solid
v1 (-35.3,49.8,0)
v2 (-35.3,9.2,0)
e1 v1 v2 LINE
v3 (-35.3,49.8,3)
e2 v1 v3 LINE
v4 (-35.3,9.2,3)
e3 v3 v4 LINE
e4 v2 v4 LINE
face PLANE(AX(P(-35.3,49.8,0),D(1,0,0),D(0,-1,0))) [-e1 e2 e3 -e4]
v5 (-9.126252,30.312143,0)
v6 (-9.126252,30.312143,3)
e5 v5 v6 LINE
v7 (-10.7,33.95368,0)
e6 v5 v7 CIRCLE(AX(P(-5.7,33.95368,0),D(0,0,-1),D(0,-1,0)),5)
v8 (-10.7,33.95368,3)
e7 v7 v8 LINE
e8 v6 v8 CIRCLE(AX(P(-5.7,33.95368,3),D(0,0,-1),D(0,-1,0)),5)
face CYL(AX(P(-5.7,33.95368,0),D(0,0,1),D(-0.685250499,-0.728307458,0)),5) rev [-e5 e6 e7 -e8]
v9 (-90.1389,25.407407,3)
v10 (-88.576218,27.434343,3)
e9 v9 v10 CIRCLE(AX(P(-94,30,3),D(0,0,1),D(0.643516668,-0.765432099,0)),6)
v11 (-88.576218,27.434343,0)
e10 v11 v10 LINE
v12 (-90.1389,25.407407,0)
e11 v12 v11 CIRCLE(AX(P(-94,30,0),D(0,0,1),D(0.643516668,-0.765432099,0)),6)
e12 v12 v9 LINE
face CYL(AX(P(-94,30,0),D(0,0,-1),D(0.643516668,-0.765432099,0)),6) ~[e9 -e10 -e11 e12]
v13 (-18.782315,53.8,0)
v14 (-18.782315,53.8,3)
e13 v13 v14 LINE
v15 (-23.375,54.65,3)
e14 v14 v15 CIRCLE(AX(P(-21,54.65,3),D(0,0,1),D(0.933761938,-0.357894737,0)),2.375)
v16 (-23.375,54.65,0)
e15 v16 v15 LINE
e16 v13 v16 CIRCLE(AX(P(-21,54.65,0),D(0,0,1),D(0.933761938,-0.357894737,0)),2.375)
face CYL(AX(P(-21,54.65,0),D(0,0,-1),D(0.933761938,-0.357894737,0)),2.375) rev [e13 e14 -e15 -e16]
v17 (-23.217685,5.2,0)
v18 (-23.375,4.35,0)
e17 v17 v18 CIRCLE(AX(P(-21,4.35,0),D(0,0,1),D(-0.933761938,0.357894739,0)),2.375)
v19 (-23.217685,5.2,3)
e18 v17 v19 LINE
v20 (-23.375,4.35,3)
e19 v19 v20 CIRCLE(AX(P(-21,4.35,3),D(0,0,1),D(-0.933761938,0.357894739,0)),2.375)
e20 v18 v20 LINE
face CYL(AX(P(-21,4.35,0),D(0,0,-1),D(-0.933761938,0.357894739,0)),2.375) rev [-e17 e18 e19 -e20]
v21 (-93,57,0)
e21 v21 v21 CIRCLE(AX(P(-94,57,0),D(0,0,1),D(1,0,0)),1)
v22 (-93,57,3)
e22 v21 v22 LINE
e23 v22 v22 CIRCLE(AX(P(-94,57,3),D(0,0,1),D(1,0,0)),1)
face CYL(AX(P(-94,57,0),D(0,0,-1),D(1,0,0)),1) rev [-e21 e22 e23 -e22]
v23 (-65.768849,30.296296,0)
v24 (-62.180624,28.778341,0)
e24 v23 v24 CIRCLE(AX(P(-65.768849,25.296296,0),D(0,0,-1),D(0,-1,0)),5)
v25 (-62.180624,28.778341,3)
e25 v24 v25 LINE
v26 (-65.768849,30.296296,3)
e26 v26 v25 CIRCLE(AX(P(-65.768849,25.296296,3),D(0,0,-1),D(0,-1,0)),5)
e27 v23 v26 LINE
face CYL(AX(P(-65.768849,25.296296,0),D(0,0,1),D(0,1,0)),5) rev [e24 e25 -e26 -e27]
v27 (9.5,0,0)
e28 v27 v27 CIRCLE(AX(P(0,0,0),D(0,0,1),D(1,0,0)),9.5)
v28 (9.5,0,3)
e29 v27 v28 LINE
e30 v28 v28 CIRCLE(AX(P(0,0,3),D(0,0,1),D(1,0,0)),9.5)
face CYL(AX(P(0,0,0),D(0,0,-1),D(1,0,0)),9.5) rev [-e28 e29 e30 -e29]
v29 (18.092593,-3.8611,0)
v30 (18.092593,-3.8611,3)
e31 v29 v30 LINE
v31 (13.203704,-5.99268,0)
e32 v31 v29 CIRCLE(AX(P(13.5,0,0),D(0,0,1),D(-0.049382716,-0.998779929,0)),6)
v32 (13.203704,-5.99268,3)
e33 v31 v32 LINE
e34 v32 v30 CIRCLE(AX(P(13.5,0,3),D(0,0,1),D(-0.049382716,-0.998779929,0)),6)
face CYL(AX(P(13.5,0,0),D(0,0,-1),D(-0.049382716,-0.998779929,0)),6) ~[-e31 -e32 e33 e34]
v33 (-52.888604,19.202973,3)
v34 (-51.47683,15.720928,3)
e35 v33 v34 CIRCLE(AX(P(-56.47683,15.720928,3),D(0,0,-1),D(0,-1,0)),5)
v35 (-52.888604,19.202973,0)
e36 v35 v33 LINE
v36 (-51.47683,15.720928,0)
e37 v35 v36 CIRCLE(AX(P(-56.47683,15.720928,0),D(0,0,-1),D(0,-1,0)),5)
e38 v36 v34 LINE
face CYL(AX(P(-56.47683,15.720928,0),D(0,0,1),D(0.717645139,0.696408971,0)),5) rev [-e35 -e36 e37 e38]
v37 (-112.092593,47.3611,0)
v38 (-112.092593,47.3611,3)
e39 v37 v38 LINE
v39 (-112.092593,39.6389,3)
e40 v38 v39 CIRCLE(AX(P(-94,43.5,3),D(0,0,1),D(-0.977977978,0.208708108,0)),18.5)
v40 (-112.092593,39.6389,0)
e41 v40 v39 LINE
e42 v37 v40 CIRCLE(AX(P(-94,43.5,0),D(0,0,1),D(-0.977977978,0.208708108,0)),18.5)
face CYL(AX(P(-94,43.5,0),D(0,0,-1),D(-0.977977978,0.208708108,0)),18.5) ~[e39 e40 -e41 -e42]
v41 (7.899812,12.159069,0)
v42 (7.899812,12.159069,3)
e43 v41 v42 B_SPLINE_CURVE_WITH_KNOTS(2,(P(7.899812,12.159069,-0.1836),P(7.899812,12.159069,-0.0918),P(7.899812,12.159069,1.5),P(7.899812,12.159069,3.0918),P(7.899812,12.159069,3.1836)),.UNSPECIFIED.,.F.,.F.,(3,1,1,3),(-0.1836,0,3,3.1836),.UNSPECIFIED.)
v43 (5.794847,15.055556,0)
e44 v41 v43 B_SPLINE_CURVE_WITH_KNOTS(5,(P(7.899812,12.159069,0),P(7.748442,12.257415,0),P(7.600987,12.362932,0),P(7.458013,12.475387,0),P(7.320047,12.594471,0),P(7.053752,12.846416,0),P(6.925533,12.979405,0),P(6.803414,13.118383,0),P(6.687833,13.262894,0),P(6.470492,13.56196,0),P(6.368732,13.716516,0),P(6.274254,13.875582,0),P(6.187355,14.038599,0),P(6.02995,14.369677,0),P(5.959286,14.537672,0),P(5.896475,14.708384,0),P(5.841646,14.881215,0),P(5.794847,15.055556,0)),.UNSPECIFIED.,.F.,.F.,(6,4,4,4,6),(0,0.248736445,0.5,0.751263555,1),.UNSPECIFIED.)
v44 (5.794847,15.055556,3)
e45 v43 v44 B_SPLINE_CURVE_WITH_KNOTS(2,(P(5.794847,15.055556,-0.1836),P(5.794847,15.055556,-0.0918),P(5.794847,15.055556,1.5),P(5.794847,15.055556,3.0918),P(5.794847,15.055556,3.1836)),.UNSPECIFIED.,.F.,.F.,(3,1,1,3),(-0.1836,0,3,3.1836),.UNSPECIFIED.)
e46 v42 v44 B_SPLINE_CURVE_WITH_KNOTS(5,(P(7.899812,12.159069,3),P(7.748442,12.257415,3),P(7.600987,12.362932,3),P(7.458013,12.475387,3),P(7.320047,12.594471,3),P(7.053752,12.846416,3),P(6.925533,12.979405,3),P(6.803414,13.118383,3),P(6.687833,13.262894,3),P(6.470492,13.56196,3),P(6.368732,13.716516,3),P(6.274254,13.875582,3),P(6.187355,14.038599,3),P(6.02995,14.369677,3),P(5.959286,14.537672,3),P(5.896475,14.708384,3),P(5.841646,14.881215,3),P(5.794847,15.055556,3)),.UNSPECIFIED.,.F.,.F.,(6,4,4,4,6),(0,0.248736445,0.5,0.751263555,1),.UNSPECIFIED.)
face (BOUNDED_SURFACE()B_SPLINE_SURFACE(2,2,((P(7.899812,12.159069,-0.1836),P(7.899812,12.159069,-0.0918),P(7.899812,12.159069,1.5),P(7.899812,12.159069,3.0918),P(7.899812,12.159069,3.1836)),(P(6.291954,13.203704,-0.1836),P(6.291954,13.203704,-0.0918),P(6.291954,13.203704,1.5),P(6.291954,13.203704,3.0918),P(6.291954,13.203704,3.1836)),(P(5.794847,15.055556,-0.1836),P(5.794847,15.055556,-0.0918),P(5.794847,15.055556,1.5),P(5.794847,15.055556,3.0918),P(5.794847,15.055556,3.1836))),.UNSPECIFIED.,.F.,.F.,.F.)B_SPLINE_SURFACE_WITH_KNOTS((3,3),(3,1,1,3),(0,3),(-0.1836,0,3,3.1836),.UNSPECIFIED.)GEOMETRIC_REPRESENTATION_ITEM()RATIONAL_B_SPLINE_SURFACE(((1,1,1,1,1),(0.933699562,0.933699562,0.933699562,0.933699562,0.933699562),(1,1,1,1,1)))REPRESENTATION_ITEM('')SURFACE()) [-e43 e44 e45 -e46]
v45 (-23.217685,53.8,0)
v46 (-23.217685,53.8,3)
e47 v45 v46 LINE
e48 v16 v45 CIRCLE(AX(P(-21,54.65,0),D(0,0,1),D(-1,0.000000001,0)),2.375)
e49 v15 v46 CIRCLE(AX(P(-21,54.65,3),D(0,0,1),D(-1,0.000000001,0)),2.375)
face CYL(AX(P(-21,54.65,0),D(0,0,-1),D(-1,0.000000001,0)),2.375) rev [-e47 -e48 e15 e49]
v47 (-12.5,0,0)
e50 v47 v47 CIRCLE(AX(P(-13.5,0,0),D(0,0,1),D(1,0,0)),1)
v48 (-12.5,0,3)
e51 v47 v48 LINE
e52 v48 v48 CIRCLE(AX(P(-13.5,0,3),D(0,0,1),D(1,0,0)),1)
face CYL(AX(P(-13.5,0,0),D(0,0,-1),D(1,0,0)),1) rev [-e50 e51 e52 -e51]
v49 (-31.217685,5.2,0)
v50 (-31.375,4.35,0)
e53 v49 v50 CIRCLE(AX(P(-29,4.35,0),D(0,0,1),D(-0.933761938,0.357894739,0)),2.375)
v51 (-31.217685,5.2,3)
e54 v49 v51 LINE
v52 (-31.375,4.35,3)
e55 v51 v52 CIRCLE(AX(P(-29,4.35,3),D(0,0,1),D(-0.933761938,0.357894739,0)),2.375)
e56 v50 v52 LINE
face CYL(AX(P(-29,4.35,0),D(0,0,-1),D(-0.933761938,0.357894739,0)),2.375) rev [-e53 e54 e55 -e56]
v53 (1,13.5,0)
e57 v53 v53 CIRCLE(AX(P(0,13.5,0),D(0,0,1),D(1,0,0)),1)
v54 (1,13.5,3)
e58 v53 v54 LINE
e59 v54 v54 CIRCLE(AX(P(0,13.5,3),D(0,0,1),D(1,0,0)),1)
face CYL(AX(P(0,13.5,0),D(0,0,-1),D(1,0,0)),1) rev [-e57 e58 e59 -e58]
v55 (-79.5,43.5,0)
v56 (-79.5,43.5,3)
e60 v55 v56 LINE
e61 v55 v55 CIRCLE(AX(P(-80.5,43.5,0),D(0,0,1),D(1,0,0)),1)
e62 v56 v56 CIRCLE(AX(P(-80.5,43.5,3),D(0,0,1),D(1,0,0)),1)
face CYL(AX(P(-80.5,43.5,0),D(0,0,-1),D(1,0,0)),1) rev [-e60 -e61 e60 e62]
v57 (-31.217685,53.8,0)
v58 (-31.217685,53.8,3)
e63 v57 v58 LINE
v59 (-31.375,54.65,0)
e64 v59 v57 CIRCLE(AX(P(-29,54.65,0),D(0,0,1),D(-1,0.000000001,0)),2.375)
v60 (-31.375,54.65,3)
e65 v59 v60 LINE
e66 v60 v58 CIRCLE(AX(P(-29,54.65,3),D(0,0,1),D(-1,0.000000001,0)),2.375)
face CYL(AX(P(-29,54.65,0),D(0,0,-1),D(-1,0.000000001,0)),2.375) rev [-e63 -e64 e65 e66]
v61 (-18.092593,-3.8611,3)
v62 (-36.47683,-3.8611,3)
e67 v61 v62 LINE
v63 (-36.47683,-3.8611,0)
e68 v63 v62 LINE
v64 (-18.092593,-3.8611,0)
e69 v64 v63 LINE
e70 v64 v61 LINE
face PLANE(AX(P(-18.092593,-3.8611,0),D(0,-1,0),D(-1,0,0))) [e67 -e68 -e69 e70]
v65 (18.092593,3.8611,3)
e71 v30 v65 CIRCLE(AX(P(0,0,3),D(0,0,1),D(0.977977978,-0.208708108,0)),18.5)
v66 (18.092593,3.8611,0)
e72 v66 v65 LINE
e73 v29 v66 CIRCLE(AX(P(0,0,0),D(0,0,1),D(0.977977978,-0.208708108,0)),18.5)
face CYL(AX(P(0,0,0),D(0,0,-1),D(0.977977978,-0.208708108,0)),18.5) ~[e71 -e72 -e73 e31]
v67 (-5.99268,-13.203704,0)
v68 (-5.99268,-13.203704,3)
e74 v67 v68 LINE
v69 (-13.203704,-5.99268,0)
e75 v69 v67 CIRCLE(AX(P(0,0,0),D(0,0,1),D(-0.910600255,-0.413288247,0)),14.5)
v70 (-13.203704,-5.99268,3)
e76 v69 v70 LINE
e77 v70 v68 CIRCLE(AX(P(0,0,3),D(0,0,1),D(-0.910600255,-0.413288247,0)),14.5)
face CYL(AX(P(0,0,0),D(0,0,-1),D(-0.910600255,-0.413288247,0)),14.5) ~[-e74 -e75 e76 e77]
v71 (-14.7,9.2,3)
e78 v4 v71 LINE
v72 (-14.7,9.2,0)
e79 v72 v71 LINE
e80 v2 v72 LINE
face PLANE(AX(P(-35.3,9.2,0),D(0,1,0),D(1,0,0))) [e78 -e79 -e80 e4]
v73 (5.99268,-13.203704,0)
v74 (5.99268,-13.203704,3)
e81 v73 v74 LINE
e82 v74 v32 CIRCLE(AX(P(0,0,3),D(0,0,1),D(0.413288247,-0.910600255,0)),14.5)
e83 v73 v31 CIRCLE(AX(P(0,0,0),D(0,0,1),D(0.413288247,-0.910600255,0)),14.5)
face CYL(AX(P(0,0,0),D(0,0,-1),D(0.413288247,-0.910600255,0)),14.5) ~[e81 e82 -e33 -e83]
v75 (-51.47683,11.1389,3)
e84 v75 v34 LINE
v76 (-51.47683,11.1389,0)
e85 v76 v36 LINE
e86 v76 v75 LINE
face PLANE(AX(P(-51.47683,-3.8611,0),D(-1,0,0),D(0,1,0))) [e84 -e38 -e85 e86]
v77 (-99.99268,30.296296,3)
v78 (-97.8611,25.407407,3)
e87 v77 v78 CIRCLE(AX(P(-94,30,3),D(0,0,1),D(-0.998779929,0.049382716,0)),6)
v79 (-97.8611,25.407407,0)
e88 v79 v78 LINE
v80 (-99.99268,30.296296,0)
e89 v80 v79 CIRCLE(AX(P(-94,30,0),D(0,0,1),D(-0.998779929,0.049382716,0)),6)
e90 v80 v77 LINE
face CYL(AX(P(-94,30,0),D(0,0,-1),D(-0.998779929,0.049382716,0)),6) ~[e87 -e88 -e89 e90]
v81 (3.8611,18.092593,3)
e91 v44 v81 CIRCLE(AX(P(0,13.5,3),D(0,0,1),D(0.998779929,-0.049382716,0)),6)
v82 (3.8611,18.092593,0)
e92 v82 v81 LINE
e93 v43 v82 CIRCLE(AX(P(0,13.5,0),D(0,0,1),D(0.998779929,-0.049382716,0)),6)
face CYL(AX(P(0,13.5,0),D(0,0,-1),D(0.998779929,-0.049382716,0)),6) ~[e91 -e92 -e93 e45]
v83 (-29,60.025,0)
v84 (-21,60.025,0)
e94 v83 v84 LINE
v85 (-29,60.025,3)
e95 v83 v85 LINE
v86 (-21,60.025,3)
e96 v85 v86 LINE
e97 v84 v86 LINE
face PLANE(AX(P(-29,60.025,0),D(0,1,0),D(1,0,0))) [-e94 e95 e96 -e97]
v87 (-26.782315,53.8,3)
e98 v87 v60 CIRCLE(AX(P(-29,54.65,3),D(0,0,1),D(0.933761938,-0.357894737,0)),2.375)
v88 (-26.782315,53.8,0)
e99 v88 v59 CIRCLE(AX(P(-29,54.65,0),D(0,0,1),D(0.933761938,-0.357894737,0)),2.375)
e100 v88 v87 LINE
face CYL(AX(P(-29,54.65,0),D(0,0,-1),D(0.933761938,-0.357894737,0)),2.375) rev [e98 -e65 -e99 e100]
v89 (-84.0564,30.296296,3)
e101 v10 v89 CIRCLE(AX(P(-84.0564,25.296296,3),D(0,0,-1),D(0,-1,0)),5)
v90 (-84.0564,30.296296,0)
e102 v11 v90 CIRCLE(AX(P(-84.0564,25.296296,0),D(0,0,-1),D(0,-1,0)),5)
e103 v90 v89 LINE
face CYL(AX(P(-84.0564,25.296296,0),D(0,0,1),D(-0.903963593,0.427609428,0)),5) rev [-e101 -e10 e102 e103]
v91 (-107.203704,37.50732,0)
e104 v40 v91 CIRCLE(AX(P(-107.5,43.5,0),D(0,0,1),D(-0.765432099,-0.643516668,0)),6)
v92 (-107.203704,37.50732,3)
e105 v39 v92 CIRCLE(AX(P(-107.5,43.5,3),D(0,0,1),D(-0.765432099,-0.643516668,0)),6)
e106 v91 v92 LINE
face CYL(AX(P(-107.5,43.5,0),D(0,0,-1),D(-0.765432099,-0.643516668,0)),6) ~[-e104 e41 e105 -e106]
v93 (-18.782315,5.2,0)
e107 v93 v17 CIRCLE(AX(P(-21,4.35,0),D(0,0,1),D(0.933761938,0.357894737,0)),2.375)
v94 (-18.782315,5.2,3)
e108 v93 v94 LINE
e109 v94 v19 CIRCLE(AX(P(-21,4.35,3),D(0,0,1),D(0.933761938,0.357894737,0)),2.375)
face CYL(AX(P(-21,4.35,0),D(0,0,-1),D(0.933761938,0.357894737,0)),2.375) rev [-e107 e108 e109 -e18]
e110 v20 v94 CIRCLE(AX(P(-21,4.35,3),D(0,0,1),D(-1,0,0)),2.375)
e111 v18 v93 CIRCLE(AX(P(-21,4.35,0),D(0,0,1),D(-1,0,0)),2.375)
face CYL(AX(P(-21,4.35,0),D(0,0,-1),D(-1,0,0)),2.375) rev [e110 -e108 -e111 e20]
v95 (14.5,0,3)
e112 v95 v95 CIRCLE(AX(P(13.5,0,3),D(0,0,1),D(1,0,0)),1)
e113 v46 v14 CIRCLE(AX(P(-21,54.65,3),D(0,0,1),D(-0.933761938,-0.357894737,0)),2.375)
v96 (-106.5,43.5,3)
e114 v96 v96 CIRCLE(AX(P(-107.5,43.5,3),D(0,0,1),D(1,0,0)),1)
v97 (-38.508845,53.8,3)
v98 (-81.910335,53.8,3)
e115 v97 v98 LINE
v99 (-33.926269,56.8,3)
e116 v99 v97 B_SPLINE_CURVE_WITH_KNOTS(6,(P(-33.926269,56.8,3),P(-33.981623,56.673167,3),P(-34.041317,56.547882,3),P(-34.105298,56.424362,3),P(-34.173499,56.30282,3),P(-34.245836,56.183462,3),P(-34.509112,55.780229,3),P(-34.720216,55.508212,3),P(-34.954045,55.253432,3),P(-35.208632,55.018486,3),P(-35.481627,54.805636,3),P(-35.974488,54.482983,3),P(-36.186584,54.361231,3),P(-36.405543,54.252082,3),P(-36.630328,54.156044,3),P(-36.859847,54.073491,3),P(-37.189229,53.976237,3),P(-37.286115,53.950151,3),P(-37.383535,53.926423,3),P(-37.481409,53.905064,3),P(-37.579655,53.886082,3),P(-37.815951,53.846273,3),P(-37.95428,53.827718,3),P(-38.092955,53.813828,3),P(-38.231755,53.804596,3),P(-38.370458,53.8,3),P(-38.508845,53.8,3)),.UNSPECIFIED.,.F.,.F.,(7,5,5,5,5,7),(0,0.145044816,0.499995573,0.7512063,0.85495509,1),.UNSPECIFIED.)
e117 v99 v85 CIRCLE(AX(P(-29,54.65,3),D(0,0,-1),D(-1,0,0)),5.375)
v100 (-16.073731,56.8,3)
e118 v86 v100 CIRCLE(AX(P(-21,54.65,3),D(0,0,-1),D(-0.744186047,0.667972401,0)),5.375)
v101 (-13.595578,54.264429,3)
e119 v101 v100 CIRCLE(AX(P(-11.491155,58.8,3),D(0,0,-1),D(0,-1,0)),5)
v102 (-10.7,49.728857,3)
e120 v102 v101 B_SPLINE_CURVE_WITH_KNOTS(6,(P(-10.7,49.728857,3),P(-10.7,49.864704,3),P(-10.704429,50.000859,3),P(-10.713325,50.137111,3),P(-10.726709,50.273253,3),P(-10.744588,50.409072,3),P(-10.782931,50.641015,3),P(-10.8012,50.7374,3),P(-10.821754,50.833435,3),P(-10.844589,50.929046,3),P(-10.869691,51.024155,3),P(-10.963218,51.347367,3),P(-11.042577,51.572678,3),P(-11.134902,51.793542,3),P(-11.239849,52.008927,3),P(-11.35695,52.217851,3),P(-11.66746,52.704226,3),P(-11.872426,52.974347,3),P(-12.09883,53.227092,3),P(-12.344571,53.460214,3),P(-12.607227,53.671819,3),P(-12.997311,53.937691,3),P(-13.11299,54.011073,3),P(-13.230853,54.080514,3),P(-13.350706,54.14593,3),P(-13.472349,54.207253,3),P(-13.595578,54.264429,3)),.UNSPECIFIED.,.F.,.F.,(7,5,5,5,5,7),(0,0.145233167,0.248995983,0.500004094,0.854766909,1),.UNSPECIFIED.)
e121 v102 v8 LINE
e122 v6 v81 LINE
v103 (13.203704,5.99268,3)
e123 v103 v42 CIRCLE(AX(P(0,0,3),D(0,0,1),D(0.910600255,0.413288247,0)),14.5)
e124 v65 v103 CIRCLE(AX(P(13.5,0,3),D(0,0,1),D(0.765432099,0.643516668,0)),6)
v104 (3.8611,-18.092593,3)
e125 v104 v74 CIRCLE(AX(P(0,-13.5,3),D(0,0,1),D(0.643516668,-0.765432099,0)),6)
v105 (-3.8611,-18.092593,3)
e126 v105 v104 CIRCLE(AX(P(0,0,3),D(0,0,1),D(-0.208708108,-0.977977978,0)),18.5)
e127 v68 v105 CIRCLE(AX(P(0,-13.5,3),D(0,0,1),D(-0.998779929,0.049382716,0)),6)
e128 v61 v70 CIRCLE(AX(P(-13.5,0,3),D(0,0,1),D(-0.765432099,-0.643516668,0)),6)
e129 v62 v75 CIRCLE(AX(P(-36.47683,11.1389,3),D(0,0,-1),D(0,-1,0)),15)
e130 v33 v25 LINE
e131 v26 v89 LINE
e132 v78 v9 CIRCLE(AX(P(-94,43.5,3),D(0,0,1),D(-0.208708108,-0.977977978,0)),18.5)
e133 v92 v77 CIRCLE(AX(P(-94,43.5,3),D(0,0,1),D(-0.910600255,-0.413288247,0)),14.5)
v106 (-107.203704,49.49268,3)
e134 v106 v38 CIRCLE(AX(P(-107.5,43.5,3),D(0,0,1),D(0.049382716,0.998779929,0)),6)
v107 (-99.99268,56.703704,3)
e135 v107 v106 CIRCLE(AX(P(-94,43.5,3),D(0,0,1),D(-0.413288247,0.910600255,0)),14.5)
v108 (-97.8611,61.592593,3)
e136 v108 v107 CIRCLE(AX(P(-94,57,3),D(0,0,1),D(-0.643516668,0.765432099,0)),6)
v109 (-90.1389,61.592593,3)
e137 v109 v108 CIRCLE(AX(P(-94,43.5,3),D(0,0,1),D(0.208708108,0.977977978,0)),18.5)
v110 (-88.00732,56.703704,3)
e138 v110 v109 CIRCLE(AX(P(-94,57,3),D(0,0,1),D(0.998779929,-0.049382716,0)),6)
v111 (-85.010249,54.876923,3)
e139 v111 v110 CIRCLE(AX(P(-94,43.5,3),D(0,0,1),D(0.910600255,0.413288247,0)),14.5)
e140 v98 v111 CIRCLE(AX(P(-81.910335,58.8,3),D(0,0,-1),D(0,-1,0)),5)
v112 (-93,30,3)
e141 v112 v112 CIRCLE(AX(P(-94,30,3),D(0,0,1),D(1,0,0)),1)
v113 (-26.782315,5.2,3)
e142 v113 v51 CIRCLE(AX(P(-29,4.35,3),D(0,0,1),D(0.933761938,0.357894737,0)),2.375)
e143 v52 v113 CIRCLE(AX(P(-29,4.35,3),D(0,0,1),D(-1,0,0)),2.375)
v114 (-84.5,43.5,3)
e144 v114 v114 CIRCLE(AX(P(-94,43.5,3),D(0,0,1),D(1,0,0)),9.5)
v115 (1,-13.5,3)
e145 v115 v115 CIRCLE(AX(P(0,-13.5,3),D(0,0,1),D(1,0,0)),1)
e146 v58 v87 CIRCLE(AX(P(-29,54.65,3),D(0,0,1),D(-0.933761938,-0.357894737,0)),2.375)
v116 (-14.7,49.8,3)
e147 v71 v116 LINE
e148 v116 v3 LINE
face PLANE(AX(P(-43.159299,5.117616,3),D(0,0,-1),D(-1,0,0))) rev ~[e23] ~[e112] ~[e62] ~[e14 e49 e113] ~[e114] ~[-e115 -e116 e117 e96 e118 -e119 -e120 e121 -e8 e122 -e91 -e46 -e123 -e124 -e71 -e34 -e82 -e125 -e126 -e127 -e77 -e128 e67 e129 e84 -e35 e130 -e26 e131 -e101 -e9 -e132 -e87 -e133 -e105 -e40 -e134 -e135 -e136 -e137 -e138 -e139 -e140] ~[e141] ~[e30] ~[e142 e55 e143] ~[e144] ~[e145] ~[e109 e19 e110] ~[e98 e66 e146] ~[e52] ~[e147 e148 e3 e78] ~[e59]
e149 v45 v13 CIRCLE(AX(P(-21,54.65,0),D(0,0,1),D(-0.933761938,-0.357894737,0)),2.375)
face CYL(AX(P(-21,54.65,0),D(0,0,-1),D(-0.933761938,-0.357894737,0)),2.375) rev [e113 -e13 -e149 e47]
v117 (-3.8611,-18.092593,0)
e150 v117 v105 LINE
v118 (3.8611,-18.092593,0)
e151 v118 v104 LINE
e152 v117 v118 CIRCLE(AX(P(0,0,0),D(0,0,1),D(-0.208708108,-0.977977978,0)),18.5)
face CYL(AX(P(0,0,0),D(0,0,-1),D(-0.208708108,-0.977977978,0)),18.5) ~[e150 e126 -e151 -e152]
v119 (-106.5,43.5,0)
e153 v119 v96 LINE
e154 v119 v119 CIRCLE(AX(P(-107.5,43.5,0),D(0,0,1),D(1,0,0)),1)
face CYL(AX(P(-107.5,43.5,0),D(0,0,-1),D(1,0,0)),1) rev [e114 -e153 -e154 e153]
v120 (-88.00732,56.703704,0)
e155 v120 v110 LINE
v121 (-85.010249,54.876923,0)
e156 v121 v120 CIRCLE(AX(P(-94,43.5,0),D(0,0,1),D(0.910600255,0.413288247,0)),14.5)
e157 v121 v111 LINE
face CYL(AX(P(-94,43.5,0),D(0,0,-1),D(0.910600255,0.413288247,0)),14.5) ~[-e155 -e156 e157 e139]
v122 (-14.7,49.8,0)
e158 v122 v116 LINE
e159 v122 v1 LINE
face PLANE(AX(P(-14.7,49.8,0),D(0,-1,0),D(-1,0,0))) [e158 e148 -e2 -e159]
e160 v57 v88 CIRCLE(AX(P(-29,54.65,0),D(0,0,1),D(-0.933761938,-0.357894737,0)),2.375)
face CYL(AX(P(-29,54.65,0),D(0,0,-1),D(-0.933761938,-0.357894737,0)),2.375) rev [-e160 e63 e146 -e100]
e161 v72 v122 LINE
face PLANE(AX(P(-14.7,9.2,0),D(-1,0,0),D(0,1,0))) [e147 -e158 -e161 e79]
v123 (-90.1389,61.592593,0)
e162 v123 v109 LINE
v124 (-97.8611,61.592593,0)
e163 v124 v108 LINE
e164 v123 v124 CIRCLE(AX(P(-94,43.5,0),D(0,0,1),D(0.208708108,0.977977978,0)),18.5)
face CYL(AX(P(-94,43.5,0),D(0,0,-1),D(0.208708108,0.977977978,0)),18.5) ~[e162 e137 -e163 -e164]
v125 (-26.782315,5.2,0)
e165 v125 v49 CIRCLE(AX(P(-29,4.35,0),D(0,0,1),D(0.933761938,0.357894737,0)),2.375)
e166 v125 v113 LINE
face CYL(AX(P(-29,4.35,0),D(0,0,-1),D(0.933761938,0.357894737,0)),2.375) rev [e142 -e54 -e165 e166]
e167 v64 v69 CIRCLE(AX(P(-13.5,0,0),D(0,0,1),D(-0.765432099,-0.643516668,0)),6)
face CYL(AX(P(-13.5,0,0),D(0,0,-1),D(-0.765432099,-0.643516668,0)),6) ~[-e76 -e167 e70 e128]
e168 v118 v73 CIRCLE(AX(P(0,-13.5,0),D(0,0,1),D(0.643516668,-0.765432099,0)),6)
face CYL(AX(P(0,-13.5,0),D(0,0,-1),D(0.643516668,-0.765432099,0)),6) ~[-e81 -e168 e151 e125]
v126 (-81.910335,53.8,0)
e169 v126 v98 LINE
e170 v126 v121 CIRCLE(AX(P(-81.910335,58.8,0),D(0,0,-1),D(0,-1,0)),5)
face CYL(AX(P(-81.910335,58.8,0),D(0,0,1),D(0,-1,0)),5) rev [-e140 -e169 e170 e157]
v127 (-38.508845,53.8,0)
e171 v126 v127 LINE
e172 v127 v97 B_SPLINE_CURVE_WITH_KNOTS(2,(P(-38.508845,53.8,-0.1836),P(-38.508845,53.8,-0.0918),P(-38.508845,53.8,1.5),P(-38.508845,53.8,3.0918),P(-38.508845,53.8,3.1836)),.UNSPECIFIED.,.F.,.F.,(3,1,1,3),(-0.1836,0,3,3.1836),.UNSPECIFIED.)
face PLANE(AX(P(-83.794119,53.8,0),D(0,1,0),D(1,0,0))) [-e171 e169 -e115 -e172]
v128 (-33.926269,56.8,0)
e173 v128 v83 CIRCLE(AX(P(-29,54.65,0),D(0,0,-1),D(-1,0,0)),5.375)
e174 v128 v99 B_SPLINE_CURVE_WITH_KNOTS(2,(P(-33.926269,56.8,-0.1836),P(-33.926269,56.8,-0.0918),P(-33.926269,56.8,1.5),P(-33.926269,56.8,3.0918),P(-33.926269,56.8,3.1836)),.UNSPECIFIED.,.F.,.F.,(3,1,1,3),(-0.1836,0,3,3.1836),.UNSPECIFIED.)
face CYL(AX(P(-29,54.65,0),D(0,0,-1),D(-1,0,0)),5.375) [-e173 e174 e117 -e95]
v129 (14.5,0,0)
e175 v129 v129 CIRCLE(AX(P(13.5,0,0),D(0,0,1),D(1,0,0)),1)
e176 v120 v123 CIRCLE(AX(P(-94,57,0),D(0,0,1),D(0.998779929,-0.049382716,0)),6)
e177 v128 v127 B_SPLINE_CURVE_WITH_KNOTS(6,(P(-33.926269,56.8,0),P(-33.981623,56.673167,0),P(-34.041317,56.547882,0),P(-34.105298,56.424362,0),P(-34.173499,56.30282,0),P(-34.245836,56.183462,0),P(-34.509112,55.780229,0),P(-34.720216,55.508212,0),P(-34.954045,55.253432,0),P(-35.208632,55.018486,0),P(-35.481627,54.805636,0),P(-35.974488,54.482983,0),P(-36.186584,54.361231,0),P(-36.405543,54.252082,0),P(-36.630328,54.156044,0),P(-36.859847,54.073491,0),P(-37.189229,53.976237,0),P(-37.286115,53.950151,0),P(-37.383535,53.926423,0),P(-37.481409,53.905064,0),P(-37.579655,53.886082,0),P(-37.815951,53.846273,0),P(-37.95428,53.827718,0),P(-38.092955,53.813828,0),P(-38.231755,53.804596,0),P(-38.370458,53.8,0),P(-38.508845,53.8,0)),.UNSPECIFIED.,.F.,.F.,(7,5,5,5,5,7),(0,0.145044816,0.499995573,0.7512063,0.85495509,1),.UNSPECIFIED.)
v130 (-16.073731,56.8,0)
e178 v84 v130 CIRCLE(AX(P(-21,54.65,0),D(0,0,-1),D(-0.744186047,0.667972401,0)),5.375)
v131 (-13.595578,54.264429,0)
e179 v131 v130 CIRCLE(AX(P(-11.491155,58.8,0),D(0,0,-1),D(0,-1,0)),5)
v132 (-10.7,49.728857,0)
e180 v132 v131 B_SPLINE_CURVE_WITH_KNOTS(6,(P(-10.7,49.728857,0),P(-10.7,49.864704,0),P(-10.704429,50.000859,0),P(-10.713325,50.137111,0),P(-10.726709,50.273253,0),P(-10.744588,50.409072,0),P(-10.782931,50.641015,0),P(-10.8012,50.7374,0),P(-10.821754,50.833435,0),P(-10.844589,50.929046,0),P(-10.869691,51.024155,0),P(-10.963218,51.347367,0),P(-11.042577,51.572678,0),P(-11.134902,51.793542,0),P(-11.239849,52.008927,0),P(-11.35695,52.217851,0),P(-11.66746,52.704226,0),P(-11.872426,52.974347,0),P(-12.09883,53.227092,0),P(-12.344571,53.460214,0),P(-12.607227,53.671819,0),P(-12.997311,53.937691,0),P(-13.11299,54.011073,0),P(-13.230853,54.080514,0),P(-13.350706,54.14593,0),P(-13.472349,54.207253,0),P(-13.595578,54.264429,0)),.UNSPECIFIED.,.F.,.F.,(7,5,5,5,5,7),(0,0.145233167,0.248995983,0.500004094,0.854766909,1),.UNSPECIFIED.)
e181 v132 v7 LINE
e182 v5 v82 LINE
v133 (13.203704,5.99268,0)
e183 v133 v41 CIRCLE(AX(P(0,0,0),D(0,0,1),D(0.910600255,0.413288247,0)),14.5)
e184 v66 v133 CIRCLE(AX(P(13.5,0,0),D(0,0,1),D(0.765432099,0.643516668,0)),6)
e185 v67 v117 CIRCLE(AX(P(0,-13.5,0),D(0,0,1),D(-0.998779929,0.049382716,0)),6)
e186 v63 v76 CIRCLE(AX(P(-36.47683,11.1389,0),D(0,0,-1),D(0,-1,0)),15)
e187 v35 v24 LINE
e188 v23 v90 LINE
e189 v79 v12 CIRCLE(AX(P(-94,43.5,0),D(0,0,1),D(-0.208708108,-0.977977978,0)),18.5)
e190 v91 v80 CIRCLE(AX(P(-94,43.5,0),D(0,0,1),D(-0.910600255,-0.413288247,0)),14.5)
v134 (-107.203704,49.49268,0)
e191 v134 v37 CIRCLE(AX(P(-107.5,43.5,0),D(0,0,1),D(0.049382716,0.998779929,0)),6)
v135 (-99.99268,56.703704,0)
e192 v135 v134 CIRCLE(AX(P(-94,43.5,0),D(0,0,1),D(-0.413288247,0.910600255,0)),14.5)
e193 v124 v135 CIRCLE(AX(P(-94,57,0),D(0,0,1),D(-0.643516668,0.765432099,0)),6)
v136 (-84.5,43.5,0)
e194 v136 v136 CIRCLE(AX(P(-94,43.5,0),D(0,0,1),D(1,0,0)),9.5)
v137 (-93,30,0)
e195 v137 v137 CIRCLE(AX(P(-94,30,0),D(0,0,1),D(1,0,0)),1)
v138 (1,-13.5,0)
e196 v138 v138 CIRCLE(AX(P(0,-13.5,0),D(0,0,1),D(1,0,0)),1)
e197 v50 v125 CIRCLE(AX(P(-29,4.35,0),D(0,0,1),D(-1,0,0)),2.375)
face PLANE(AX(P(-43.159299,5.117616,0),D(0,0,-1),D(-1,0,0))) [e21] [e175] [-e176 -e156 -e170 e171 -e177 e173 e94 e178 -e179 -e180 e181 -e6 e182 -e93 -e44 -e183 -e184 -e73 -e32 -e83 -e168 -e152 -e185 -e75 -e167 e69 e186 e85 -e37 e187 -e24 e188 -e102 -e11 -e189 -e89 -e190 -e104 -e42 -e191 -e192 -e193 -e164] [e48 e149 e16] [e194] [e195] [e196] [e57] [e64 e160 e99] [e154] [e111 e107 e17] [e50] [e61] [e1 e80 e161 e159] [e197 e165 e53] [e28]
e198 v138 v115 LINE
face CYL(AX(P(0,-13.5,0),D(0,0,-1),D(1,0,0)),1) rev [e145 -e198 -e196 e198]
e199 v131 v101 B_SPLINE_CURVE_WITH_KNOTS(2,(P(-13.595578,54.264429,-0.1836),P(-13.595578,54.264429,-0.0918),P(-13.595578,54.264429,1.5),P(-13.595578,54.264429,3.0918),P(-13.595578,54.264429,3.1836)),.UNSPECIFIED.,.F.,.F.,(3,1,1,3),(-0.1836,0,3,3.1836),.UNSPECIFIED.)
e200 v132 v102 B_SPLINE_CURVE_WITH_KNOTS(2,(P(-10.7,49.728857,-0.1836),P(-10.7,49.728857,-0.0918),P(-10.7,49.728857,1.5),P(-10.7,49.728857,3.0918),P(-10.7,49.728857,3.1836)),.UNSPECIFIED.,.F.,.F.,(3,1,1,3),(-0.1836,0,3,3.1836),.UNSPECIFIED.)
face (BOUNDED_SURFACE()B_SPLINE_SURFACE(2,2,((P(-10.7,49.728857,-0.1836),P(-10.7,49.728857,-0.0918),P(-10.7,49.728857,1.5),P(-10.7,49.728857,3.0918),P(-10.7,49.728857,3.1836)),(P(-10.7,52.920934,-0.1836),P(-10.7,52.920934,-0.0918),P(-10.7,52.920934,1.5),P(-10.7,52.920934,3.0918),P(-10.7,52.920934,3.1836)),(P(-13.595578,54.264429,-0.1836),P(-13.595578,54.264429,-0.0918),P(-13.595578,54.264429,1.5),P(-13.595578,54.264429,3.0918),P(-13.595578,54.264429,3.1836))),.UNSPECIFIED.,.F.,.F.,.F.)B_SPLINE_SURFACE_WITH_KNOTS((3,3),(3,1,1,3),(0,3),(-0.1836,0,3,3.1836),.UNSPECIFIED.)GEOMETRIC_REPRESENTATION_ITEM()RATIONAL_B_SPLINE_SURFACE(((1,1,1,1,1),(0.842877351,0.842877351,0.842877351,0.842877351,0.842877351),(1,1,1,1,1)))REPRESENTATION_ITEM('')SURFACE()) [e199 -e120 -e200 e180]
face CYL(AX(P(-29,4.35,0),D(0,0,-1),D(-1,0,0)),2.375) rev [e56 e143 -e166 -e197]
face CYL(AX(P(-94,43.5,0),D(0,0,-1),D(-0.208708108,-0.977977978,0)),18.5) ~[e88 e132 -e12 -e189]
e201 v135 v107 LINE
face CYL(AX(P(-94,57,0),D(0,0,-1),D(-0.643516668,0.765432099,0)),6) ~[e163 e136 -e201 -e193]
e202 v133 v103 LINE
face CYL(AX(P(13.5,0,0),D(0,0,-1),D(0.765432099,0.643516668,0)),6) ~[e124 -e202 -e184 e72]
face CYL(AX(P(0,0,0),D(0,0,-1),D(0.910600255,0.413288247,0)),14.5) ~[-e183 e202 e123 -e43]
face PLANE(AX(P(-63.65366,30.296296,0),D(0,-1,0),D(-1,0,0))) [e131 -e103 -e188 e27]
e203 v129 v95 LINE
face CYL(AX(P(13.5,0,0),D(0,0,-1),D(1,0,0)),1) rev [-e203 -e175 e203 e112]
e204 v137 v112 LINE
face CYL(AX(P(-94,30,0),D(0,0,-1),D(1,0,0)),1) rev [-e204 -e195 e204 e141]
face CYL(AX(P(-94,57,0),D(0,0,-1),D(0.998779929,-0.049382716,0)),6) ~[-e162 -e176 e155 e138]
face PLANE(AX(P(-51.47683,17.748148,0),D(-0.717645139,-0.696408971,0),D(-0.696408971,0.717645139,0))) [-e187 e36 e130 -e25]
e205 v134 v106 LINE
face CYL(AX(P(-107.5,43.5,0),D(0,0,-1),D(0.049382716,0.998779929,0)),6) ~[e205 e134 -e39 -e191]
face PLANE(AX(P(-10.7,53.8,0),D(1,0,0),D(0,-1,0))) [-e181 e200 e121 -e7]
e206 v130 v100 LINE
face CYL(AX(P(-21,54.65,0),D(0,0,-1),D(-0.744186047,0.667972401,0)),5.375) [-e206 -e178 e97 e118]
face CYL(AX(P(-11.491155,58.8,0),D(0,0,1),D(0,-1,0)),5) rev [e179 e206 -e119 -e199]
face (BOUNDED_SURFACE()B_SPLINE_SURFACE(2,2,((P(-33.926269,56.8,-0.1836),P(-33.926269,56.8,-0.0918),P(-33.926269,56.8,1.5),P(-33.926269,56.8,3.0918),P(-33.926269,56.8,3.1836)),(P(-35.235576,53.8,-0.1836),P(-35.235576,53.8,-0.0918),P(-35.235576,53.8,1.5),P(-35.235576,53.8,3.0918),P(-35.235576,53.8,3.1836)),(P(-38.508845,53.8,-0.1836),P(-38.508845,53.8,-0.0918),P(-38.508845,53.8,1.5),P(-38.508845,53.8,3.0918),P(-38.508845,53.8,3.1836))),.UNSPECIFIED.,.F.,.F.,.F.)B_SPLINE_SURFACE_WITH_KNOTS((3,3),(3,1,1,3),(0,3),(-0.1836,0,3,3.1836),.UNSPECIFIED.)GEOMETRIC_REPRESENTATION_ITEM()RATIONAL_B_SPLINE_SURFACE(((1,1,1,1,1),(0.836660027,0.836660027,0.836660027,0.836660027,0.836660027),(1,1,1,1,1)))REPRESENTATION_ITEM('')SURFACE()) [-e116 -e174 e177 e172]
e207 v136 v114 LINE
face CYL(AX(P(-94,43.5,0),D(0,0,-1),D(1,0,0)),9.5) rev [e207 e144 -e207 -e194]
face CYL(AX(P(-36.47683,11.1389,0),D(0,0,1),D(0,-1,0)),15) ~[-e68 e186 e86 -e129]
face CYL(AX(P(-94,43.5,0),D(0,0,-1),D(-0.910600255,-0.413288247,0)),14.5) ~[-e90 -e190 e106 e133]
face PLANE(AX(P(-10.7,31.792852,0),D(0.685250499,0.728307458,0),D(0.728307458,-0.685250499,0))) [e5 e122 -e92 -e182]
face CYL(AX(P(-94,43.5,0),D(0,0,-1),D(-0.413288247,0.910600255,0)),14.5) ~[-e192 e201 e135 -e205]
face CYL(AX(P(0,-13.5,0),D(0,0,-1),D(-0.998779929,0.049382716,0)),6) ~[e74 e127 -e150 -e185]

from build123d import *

# Parameters (mm, degrees)
SKETCH13_R          = 1
SKETCH13_R_2        = 9.5
BOSS_EXTRUDE1_DEPTH = 3
BOSS_EXTRUDE2_DEPTH = 3
BOSS_EXTRUDE4_DEPTH = 3
FILLET1_R           = 5
FILLET2_R           = 5
FILLET3_R           = 15


with BuildPart() as part:
    # Sketch13 → Boss-Extrude1 (new body)
    with BuildSketch(Plane.XY):
        with BuildLine():
            ThreePointArc((-5.992679576, 13.203703704), (-10.253048327, 10.253048327), (-13.203703704, 5.992679576))
            ThreePointArc((-13.203703704, 5.992679576), (-15.898009243, 5.499959243), (-18.092592593, 3.861100009))
            ThreePointArc((-18.092592593, 3.861100009), (-18.5, 0), (-18.092592593, -3.861100009))
            ThreePointArc((-18.092592593, -3.861100009), (-15.898009243, -5.499959243), (-13.203703704, -5.992679576))
            ThreePointArc((-13.203703704, -5.992679576), (-10.253048327, -10.253048327), (-5.992679576, -13.203703704))
            ThreePointArc((-5.992679576, -13.203703704), (-5.499959243, -15.898009243), (-3.861100009, -18.092592593))
            ThreePointArc((-3.861100009, -18.092592593), (0, -18.5), (3.861100009, -18.092592593))
            ThreePointArc((3.861100009, -18.092592593), (5.499959243, -15.898009243), (5.992679576, -13.203703704))
            ThreePointArc((5.992679576, -13.203703704), (10.253048327, -10.253048327), (13.203703704, -5.992679576))
            ThreePointArc((13.203703704, -5.992679576), (15.898009243, -5.499959243), (18.092592593, -3.861100009))
            ThreePointArc((18.092592593, -3.861100009), (18.5, 0), (18.092592593, 3.861100009))
            ThreePointArc((18.092592593, 3.861100009), (15.898009243, 5.499959243), (13.203703704, 5.992679576))
            ThreePointArc((13.203703704, 5.992679576), (10.253048327, 10.253048327), (5.992679576, 13.203703704))
            ThreePointArc((5.992679576, 13.203703704), (5.499959243, 15.898009243), (3.861100009, 18.092592593))
            ThreePointArc((3.861100009, 18.092592593), (0, 18.5), (-3.861100009, 18.092592593))
            ThreePointArc((-3.861100009, 18.092592593), (-5.499959243, 15.898009243), (-5.992679576, 13.203703704))
        make_face()
        with Locations((-13.5, 0)):
            Circle(SKETCH13_R, mode=Mode.SUBTRACT)
        with Locations((0, -13.5)):
            Circle(SKETCH13_R, mode=Mode.SUBTRACT)
        Circle(SKETCH13_R_2, mode=Mode.SUBTRACT)
        with Locations((13.5, 0)):
            Circle(SKETCH13_R, mode=Mode.SUBTRACT)
        with Locations((0, 13.5)):
            Circle(SKETCH13_R, mode=Mode.SUBTRACT)
    extrude(amount=BOSS_EXTRUDE1_DEPTH)


with BuildPart() as body_2:
    # Body-Move/Copy1: copy of part
    add(part.part.moved(Location((-94, 43.5, 0))))


with BuildPart() as part_1:
    add(part.part)

    # Sketch14 → Boss-Extrude2 (add)
    with BuildSketch(Plane(origin=(0, 0, 0), x_dir=(-1, 0, 0), z_dir=(0, 0, -1))):
        with BuildLine():
            Line((31.316921449, 49.8), (35.3, 49.8))
            Line((35.3, 49.8), (35.3, 9.2))
            Line((35.3, 9.2), (31.316921449, 9.2))
            ThreePointArc((31.316921449, 9.2), (33.30493166, 7.568413958), (34.307365166, 5.2))
            Line((34.307365166, 5.2), (39.3, 5.2))
            Line((39.3, 5.2), (39.3, 53.8))
            Line((39.3, 53.8), (34.307365166, 53.8))
            ThreePointArc((34.307365166, 53.8), (33.30493166, 51.431586042), (31.316921449, 49.8))
        make_face()
        with BuildLine():
            Line((14.7, 49.8), (18.683078551, 49.8))
            ThreePointArc((18.683078551, 49.8), (16.69506834, 51.431586042), (15.692634834, 53.8))
            Line((15.692634834, 53.8), (10.7, 53.8))
            Line((10.7, 53.8), (10.7, 9.785703858))
            ThreePointArc((10.7, 9.785703858), (12.101385086, 7.987895781), (13.203703704, 5.992679576))
            ThreePointArc((13.203703704, 5.992679576), (14.506837812, 5.914919917), (15.762309194, 5.557153688))
            ThreePointArc((15.762309194, 5.557153688), (16.806478342, 7.71229105), (18.683078551, 9.2))
            Line((18.683078551, 9.2), (14.7, 9.2))
            Line((14.7, 9.2), (14.7, 49.8))
        make_face()
        with BuildLine():
            Line((18.683078551, 49.8), (23.316921449, 49.8))
            ThreePointArc((23.316921449, 49.8), (24.220644755, 50.34673701), (25, 51.059648346))
            ThreePointArc((25, 51.059648346), (24.1487998, 52.335592598), (23.692634834, 53.8))
            Line((23.692634834, 53.8), (23.217684603, 53.8))
            ThreePointArc((23.217684603, 53.8), (21, 52.275), (18.782315397, 53.8))
            Line((18.782315397, 53.8), (15.692634834, 53.8))
            ThreePointArc((15.692634834, 53.8), (16.69506834, 51.431586042), (18.683078551, 49.8))
        make_face()
        with BuildLine():
            Line((26.683078551, 49.8), (31.316921449, 49.8))
            ThreePointArc((31.316921449, 49.8), (33.30493166, 51.431586042), (34.307365166, 53.8))
            Line((34.307365166, 53.8), (31.217684603, 53.8))
            ThreePointArc((31.217684603, 53.8), (29, 52.275), (26.782315397, 53.8))
            Line((26.782315397, 53.8), (26.307365166, 53.8))
            ThreePointArc((26.307365166, 53.8), (25.8512002, 52.335592598), (25, 51.059648346))
            ThreePointArc((25, 51.059648346), (25.779355245, 50.34673701), (26.683078551, 49.8))
        make_face()
        with BuildLine():
            ThreePointArc((34.307365166, 5.2), (33.30493166, 7.568413958), (31.316921449, 9.2))
            Line((31.316921449, 9.2), (26.683078551, 9.2))
            ThreePointArc((26.683078551, 9.2), (25.779355245, 8.65326299), (25, 7.940351654))
            ThreePointArc((25, 7.940351654), (25.8512002, 6.664407402), (26.307365166, 5.2))
            Line((26.307365166, 5.2), (26.782315397, 5.2))
            ThreePointArc((26.782315397, 5.2), (29, 6.725), (31.217684603, 5.2))
            Line((31.217684603, 5.2), (34.307365166, 5.2))
        make_face()
        with BuildLine():
            ThreePointArc((25, 7.940351654), (24.220644755, 8.65326299), (23.316921449, 9.2))
            Line((23.316921449, 9.2), (18.683078551, 9.2))
            ThreePointArc((18.683078551, 9.2), (16.806478342, 7.71229105), (15.762309194, 5.557153688))
            ThreePointArc((15.762309194, 5.557153688), (16.133878277, 5.390981842), (16.493325909, 5.2))
            Line((16.493325909, 5.2), (18.782315397, 5.2))
            ThreePointArc((18.782315397, 5.2), (21, 6.725), (23.217684603, 5.2))
            Line((23.217684603, 5.2), (23.692634834, 5.2))
            ThreePointArc((23.692634834, 5.2), (24.1487998, 6.664407402), (25, 7.940351654))
        make_face()
        with BuildLine():
            ThreePointArc((25, 7.940351654), (25.779355245, 8.65326299), (26.683078551, 9.2))
            Line((26.683078551, 9.2), (23.316921449, 9.2))
            ThreePointArc((23.316921449, 9.2), (24.220644755, 8.65326299), (25, 7.940351654))
        make_face()
        with BuildLine():
            ThreePointArc((26.307365166, 5.2), (25.8512002, 6.664407402), (25, 7.940351654))
            ThreePointArc((25, 7.940351654), (24.1487998, 6.664407402), (23.692634834, 5.2))
            Line((23.692634834, 5.2), (26.307365166, 5.2))
        make_face()
        with BuildLine():
            Line((26.307365166, 5.2), (23.692634834, 5.2))
            ThreePointArc((23.692634834, 5.2), (23.843844234, 2.83188185), (25, 0.759648346))
            ThreePointArc((25, 0.759648346), (26.019493251, 2.427680438), (26.375, 4.35))
            ThreePointArc((26.375, 4.35), (26.358064612, 4.77634331), (26.307365166, 5.2))
        make_face()
        with BuildLine():
            ThreePointArc((34.375, 4.35), (34.358064612, 4.77634331), (34.307365166, 5.2))
            Line((34.307365166, 5.2), (31.217684603, 5.2))
            ThreePointArc((31.217684603, 5.2), (31.335340011, 4.782217577), (31.375, 4.35))
            ThreePointArc((31.375, 4.35), (28.567782423, 2.014659989), (26.782315397, 5.2))
            Line((26.782315397, 5.2), (26.307365166, 5.2))
            ThreePointArc((26.307365166, 5.2), (26.358064612, 4.77634331), (26.375, 4.35))
            ThreePointArc((26.375, 4.35), (26.019493251, 2.427680438), (25, 0.759648346))
            ThreePointArc((25, 0.759648346), (30.922319562, -0.669493251), (34.375, 4.35))
        make_face()
        with BuildLine():
            ThreePointArc((25, 0.759648346), (23.843844234, 2.83188185), (23.692634834, 5.2))
            Line((23.692634834, 5.2), (23.217684603, 5.2))
            ThreePointArc((23.217684603, 5.2), (23.335340011, 4.782217577), (23.375, 4.35))
            ThreePointArc((23.375, 4.35), (20.567782423, 2.014659989), (18.782315397, 5.2))
            Line((18.782315397, 5.2), (16.493325909, 5.2))
            ThreePointArc((16.493325909, 5.2), (17.351584502, 4.600575706), (18.092592593, 3.861100009))
            ThreePointArc((18.092592593, 3.861100009), (18.418055295, 1.739321458), (18.495547193, -0.405874382))
            ThreePointArc((18.495547193, -0.405874382), (21.948038058, -0.940732354), (25, 0.759648346))
        make_face()
        with BuildLine():
            ThreePointArc((23.692634834, 53.8), (24.1487998, 52.335592598), (25, 51.059648346))
            ThreePointArc((25, 51.059648346), (25.8512002, 52.335592598), (26.307365166, 53.8))
            Line((26.307365166, 53.8), (23.692634834, 53.8))
        make_face()
        with BuildLine():
            ThreePointArc((25, 58.240351654), (23.843844234, 56.16811815), (23.692634834, 53.8))
            Line((23.692634834, 53.8), (26.307365166, 53.8))
            ThreePointArc((26.307365166, 53.8), (26.358064612, 54.22365669), (26.375, 54.65))
            ThreePointArc((26.375, 54.65), (26.019493251, 56.572319562), (25, 58.240351654))
        make_face()
        with BuildLine():
            Line((31.217684603, 53.8), (34.307365166, 53.8))
            ThreePointArc((34.307365166, 53.8), (34.358064612, 54.22365669), (34.375, 54.65))
            ThreePointArc((34.375, 54.65), (30.922319562, 59.669493251), (25, 58.240351654))
            ThreePointArc((25, 58.240351654), (26.019493251, 56.572319562), (26.375, 54.65))
            ThreePointArc((26.375, 54.65), (26.358064612, 54.22365669), (26.307365166, 53.8))
            Line((26.307365166, 53.8), (26.782315397, 53.8))
            ThreePointArc((26.782315397, 53.8), (28.567782423, 56.985340011), (31.375, 54.65))
            ThreePointArc((31.375, 54.65), (31.335340011, 54.217782423), (31.217684603, 53.8))
        make_face()
        with BuildLine():
            Line((23.217684603, 53.8), (23.692634834, 53.8))
            ThreePointArc((23.692634834, 53.8), (23.843844234, 56.16811815), (25, 58.240351654))
            ThreePointArc((25, 58.240351654), (18.685592598, 59.5012002), (15.692634834, 53.8))
            Line((15.692634834, 53.8), (18.782315397, 53.8))
            ThreePointArc((18.782315397, 53.8), (20.567782423, 56.985340011), (23.375, 54.65))
            ThreePointArc((23.375, 54.65), (23.335340011, 54.217782423), (23.217684603, 53.8))
        make_face()
        with BuildLine():
            Line((23.316921449, 49.8), (26.683078551, 49.8))
            ThreePointArc((26.683078551, 49.8), (25.779355245, 50.34673701), (25, 51.059648346))
            ThreePointArc((25, 51.059648346), (24.220644755, 50.34673701), (23.316921449, 49.8))
        make_face()
    extrude(amount=-BOSS_EXTRUDE2_DEPTH)

    add(body_2.part)  # Boss-Extrude4 merges body 2
    # Sketch15 → Boss-Extrude4 (add)
    with BuildSketch(Plane(origin=(0, 0, 0), x_dir=(-1, 0, 0), z_dir=(0, 0, -1))):
        with BuildLine():
            Line((39.3, 5.2), (34.307365166, 5.2))
            ThreePointArc((34.307365166, 5.2), (33.090194066, 0.862746424), (29, -1.025))
            Line((29, -1.025), (51.476830106, -1.025))
            Line((51.476830106, -1.025), (51.476830106, 17.748148148))
            Line((51.476830106, 17.748148148), (39.3, 5.2))
        make_face()
        Polygon((39.3, 30.296296296), (39.3, 5.2), (51.476830106, 17.748148148), (63.653660212, 30.296296296), align=None)
        with BuildLine():
            Line((39.3, 53.8), (39.3, 30.296296296))
            Line((39.3, 30.296296296), (63.653660212, 30.296296296))
            Line((63.653660212, 30.296296296), (88.007320424, 30.296296296))
            ThreePointArc((88.007320424, 30.296296296), (83.746951673, 33.246951673), (80.796296296, 37.507320424))
            ThreePointArc((80.796296296, 37.507320424), (78.101990757, 38.000040757), (75.907407407, 39.638899991))
            ThreePointArc((75.907407407, 39.638899991), (75.5, 43.5), (75.907407407, 47.361100009))
            ThreePointArc((75.907407407, 47.361100009), (78.101990757, 48.999959243), (80.796296296, 49.492679576))
            ThreePointArc((80.796296296, 49.492679576), (82.098722241, 51.783090468), (83.794119342, 53.8))
            Line((83.794119342, 53.8), (39.3, 53.8))
        make_face()
        with BuildLine():
            Line((10.7, 9.785703858), (10.7, 31.792851929))
            Line((10.7, 31.792851929), (-3.861100009, 18.092592593))
            ThreePointArc((-3.861100009, 18.092592593), (0, 18.5), (3.861100009, 18.092592593))
            ThreePointArc((3.861100009, 18.092592593), (5.499959243, 15.898009243), (5.992679576, 13.203703704))
            ThreePointArc((5.992679576, 13.203703704), (8.519511054, 11.733197834), (10.7, 9.785703858))
        make_face()
        with BuildLine():
            ThreePointArc((25, 58.240351654), (26.809967482, 59.558602914), (29, 60.025))
            Line((29, 60.025), (21, 60.025))
            ThreePointArc((21, 60.025), (23.190032518, 59.558602914), (25, 58.240351654))
        make_face()
        with BuildLine():
            Line((51.476830106, -1.025), (29, -1.025))
            ThreePointArc((29, -1.025), (26.809967482, -0.558602914), (25, 0.759648346))
            ThreePointArc((25, 0.759648346), (21.948038058, -0.940732354), (18.495547193, -0.405874382))
            ThreePointArc((18.495547193, -0.405874382), (18.375462968, -2.142979402), (18.092592593, -3.861100009))
            Line((18.092592593, -3.861100009), (51.476830106, -3.861100009))
            Line((51.476830106, -3.861100009), (51.476830106, -1.025))
        make_face()
    extrude(amount=-BOSS_EXTRUDE4_DEPTH)

    # Fillet1
    fillet1_edges = [part_1.edges().sort_by_distance(p)[0] for p in [
        (5.992679576, 13.203703704, 1.5),
        (-15.692634834, 53.8, 1.5),
        (-34.307365166, 53.8, 1.5),
        (-10.7, 31.792851929, 1.5),
        (-88.007320424, 30.296296296, 1.5),
        (-83.794119342, 53.8, 1.5),
        (-63.653660212, 30.296296296, 1.5),
        (-51.476830106, 17.748148148, 1.5),
    ]]
    fillet(fillet1_edges, radius=FILLET1_R)

    # Fillet2
    fillet2_edges = [part_1.edges().sort_by_distance(p)[0] for p in [
        (-10.7, 53.8, 1.5),
    ]]
    fillet(fillet2_edges, radius=FILLET2_R)

    # Fillet3
    fillet3_edges = [part_1.edges().sort_by_distance(p)[0] for p in [
        (-51.476830106, -3.861100009, 1.5),
    ]]
    fillet(fillet3_edges, radius=FILLET3_R)


solid = part_1.part
